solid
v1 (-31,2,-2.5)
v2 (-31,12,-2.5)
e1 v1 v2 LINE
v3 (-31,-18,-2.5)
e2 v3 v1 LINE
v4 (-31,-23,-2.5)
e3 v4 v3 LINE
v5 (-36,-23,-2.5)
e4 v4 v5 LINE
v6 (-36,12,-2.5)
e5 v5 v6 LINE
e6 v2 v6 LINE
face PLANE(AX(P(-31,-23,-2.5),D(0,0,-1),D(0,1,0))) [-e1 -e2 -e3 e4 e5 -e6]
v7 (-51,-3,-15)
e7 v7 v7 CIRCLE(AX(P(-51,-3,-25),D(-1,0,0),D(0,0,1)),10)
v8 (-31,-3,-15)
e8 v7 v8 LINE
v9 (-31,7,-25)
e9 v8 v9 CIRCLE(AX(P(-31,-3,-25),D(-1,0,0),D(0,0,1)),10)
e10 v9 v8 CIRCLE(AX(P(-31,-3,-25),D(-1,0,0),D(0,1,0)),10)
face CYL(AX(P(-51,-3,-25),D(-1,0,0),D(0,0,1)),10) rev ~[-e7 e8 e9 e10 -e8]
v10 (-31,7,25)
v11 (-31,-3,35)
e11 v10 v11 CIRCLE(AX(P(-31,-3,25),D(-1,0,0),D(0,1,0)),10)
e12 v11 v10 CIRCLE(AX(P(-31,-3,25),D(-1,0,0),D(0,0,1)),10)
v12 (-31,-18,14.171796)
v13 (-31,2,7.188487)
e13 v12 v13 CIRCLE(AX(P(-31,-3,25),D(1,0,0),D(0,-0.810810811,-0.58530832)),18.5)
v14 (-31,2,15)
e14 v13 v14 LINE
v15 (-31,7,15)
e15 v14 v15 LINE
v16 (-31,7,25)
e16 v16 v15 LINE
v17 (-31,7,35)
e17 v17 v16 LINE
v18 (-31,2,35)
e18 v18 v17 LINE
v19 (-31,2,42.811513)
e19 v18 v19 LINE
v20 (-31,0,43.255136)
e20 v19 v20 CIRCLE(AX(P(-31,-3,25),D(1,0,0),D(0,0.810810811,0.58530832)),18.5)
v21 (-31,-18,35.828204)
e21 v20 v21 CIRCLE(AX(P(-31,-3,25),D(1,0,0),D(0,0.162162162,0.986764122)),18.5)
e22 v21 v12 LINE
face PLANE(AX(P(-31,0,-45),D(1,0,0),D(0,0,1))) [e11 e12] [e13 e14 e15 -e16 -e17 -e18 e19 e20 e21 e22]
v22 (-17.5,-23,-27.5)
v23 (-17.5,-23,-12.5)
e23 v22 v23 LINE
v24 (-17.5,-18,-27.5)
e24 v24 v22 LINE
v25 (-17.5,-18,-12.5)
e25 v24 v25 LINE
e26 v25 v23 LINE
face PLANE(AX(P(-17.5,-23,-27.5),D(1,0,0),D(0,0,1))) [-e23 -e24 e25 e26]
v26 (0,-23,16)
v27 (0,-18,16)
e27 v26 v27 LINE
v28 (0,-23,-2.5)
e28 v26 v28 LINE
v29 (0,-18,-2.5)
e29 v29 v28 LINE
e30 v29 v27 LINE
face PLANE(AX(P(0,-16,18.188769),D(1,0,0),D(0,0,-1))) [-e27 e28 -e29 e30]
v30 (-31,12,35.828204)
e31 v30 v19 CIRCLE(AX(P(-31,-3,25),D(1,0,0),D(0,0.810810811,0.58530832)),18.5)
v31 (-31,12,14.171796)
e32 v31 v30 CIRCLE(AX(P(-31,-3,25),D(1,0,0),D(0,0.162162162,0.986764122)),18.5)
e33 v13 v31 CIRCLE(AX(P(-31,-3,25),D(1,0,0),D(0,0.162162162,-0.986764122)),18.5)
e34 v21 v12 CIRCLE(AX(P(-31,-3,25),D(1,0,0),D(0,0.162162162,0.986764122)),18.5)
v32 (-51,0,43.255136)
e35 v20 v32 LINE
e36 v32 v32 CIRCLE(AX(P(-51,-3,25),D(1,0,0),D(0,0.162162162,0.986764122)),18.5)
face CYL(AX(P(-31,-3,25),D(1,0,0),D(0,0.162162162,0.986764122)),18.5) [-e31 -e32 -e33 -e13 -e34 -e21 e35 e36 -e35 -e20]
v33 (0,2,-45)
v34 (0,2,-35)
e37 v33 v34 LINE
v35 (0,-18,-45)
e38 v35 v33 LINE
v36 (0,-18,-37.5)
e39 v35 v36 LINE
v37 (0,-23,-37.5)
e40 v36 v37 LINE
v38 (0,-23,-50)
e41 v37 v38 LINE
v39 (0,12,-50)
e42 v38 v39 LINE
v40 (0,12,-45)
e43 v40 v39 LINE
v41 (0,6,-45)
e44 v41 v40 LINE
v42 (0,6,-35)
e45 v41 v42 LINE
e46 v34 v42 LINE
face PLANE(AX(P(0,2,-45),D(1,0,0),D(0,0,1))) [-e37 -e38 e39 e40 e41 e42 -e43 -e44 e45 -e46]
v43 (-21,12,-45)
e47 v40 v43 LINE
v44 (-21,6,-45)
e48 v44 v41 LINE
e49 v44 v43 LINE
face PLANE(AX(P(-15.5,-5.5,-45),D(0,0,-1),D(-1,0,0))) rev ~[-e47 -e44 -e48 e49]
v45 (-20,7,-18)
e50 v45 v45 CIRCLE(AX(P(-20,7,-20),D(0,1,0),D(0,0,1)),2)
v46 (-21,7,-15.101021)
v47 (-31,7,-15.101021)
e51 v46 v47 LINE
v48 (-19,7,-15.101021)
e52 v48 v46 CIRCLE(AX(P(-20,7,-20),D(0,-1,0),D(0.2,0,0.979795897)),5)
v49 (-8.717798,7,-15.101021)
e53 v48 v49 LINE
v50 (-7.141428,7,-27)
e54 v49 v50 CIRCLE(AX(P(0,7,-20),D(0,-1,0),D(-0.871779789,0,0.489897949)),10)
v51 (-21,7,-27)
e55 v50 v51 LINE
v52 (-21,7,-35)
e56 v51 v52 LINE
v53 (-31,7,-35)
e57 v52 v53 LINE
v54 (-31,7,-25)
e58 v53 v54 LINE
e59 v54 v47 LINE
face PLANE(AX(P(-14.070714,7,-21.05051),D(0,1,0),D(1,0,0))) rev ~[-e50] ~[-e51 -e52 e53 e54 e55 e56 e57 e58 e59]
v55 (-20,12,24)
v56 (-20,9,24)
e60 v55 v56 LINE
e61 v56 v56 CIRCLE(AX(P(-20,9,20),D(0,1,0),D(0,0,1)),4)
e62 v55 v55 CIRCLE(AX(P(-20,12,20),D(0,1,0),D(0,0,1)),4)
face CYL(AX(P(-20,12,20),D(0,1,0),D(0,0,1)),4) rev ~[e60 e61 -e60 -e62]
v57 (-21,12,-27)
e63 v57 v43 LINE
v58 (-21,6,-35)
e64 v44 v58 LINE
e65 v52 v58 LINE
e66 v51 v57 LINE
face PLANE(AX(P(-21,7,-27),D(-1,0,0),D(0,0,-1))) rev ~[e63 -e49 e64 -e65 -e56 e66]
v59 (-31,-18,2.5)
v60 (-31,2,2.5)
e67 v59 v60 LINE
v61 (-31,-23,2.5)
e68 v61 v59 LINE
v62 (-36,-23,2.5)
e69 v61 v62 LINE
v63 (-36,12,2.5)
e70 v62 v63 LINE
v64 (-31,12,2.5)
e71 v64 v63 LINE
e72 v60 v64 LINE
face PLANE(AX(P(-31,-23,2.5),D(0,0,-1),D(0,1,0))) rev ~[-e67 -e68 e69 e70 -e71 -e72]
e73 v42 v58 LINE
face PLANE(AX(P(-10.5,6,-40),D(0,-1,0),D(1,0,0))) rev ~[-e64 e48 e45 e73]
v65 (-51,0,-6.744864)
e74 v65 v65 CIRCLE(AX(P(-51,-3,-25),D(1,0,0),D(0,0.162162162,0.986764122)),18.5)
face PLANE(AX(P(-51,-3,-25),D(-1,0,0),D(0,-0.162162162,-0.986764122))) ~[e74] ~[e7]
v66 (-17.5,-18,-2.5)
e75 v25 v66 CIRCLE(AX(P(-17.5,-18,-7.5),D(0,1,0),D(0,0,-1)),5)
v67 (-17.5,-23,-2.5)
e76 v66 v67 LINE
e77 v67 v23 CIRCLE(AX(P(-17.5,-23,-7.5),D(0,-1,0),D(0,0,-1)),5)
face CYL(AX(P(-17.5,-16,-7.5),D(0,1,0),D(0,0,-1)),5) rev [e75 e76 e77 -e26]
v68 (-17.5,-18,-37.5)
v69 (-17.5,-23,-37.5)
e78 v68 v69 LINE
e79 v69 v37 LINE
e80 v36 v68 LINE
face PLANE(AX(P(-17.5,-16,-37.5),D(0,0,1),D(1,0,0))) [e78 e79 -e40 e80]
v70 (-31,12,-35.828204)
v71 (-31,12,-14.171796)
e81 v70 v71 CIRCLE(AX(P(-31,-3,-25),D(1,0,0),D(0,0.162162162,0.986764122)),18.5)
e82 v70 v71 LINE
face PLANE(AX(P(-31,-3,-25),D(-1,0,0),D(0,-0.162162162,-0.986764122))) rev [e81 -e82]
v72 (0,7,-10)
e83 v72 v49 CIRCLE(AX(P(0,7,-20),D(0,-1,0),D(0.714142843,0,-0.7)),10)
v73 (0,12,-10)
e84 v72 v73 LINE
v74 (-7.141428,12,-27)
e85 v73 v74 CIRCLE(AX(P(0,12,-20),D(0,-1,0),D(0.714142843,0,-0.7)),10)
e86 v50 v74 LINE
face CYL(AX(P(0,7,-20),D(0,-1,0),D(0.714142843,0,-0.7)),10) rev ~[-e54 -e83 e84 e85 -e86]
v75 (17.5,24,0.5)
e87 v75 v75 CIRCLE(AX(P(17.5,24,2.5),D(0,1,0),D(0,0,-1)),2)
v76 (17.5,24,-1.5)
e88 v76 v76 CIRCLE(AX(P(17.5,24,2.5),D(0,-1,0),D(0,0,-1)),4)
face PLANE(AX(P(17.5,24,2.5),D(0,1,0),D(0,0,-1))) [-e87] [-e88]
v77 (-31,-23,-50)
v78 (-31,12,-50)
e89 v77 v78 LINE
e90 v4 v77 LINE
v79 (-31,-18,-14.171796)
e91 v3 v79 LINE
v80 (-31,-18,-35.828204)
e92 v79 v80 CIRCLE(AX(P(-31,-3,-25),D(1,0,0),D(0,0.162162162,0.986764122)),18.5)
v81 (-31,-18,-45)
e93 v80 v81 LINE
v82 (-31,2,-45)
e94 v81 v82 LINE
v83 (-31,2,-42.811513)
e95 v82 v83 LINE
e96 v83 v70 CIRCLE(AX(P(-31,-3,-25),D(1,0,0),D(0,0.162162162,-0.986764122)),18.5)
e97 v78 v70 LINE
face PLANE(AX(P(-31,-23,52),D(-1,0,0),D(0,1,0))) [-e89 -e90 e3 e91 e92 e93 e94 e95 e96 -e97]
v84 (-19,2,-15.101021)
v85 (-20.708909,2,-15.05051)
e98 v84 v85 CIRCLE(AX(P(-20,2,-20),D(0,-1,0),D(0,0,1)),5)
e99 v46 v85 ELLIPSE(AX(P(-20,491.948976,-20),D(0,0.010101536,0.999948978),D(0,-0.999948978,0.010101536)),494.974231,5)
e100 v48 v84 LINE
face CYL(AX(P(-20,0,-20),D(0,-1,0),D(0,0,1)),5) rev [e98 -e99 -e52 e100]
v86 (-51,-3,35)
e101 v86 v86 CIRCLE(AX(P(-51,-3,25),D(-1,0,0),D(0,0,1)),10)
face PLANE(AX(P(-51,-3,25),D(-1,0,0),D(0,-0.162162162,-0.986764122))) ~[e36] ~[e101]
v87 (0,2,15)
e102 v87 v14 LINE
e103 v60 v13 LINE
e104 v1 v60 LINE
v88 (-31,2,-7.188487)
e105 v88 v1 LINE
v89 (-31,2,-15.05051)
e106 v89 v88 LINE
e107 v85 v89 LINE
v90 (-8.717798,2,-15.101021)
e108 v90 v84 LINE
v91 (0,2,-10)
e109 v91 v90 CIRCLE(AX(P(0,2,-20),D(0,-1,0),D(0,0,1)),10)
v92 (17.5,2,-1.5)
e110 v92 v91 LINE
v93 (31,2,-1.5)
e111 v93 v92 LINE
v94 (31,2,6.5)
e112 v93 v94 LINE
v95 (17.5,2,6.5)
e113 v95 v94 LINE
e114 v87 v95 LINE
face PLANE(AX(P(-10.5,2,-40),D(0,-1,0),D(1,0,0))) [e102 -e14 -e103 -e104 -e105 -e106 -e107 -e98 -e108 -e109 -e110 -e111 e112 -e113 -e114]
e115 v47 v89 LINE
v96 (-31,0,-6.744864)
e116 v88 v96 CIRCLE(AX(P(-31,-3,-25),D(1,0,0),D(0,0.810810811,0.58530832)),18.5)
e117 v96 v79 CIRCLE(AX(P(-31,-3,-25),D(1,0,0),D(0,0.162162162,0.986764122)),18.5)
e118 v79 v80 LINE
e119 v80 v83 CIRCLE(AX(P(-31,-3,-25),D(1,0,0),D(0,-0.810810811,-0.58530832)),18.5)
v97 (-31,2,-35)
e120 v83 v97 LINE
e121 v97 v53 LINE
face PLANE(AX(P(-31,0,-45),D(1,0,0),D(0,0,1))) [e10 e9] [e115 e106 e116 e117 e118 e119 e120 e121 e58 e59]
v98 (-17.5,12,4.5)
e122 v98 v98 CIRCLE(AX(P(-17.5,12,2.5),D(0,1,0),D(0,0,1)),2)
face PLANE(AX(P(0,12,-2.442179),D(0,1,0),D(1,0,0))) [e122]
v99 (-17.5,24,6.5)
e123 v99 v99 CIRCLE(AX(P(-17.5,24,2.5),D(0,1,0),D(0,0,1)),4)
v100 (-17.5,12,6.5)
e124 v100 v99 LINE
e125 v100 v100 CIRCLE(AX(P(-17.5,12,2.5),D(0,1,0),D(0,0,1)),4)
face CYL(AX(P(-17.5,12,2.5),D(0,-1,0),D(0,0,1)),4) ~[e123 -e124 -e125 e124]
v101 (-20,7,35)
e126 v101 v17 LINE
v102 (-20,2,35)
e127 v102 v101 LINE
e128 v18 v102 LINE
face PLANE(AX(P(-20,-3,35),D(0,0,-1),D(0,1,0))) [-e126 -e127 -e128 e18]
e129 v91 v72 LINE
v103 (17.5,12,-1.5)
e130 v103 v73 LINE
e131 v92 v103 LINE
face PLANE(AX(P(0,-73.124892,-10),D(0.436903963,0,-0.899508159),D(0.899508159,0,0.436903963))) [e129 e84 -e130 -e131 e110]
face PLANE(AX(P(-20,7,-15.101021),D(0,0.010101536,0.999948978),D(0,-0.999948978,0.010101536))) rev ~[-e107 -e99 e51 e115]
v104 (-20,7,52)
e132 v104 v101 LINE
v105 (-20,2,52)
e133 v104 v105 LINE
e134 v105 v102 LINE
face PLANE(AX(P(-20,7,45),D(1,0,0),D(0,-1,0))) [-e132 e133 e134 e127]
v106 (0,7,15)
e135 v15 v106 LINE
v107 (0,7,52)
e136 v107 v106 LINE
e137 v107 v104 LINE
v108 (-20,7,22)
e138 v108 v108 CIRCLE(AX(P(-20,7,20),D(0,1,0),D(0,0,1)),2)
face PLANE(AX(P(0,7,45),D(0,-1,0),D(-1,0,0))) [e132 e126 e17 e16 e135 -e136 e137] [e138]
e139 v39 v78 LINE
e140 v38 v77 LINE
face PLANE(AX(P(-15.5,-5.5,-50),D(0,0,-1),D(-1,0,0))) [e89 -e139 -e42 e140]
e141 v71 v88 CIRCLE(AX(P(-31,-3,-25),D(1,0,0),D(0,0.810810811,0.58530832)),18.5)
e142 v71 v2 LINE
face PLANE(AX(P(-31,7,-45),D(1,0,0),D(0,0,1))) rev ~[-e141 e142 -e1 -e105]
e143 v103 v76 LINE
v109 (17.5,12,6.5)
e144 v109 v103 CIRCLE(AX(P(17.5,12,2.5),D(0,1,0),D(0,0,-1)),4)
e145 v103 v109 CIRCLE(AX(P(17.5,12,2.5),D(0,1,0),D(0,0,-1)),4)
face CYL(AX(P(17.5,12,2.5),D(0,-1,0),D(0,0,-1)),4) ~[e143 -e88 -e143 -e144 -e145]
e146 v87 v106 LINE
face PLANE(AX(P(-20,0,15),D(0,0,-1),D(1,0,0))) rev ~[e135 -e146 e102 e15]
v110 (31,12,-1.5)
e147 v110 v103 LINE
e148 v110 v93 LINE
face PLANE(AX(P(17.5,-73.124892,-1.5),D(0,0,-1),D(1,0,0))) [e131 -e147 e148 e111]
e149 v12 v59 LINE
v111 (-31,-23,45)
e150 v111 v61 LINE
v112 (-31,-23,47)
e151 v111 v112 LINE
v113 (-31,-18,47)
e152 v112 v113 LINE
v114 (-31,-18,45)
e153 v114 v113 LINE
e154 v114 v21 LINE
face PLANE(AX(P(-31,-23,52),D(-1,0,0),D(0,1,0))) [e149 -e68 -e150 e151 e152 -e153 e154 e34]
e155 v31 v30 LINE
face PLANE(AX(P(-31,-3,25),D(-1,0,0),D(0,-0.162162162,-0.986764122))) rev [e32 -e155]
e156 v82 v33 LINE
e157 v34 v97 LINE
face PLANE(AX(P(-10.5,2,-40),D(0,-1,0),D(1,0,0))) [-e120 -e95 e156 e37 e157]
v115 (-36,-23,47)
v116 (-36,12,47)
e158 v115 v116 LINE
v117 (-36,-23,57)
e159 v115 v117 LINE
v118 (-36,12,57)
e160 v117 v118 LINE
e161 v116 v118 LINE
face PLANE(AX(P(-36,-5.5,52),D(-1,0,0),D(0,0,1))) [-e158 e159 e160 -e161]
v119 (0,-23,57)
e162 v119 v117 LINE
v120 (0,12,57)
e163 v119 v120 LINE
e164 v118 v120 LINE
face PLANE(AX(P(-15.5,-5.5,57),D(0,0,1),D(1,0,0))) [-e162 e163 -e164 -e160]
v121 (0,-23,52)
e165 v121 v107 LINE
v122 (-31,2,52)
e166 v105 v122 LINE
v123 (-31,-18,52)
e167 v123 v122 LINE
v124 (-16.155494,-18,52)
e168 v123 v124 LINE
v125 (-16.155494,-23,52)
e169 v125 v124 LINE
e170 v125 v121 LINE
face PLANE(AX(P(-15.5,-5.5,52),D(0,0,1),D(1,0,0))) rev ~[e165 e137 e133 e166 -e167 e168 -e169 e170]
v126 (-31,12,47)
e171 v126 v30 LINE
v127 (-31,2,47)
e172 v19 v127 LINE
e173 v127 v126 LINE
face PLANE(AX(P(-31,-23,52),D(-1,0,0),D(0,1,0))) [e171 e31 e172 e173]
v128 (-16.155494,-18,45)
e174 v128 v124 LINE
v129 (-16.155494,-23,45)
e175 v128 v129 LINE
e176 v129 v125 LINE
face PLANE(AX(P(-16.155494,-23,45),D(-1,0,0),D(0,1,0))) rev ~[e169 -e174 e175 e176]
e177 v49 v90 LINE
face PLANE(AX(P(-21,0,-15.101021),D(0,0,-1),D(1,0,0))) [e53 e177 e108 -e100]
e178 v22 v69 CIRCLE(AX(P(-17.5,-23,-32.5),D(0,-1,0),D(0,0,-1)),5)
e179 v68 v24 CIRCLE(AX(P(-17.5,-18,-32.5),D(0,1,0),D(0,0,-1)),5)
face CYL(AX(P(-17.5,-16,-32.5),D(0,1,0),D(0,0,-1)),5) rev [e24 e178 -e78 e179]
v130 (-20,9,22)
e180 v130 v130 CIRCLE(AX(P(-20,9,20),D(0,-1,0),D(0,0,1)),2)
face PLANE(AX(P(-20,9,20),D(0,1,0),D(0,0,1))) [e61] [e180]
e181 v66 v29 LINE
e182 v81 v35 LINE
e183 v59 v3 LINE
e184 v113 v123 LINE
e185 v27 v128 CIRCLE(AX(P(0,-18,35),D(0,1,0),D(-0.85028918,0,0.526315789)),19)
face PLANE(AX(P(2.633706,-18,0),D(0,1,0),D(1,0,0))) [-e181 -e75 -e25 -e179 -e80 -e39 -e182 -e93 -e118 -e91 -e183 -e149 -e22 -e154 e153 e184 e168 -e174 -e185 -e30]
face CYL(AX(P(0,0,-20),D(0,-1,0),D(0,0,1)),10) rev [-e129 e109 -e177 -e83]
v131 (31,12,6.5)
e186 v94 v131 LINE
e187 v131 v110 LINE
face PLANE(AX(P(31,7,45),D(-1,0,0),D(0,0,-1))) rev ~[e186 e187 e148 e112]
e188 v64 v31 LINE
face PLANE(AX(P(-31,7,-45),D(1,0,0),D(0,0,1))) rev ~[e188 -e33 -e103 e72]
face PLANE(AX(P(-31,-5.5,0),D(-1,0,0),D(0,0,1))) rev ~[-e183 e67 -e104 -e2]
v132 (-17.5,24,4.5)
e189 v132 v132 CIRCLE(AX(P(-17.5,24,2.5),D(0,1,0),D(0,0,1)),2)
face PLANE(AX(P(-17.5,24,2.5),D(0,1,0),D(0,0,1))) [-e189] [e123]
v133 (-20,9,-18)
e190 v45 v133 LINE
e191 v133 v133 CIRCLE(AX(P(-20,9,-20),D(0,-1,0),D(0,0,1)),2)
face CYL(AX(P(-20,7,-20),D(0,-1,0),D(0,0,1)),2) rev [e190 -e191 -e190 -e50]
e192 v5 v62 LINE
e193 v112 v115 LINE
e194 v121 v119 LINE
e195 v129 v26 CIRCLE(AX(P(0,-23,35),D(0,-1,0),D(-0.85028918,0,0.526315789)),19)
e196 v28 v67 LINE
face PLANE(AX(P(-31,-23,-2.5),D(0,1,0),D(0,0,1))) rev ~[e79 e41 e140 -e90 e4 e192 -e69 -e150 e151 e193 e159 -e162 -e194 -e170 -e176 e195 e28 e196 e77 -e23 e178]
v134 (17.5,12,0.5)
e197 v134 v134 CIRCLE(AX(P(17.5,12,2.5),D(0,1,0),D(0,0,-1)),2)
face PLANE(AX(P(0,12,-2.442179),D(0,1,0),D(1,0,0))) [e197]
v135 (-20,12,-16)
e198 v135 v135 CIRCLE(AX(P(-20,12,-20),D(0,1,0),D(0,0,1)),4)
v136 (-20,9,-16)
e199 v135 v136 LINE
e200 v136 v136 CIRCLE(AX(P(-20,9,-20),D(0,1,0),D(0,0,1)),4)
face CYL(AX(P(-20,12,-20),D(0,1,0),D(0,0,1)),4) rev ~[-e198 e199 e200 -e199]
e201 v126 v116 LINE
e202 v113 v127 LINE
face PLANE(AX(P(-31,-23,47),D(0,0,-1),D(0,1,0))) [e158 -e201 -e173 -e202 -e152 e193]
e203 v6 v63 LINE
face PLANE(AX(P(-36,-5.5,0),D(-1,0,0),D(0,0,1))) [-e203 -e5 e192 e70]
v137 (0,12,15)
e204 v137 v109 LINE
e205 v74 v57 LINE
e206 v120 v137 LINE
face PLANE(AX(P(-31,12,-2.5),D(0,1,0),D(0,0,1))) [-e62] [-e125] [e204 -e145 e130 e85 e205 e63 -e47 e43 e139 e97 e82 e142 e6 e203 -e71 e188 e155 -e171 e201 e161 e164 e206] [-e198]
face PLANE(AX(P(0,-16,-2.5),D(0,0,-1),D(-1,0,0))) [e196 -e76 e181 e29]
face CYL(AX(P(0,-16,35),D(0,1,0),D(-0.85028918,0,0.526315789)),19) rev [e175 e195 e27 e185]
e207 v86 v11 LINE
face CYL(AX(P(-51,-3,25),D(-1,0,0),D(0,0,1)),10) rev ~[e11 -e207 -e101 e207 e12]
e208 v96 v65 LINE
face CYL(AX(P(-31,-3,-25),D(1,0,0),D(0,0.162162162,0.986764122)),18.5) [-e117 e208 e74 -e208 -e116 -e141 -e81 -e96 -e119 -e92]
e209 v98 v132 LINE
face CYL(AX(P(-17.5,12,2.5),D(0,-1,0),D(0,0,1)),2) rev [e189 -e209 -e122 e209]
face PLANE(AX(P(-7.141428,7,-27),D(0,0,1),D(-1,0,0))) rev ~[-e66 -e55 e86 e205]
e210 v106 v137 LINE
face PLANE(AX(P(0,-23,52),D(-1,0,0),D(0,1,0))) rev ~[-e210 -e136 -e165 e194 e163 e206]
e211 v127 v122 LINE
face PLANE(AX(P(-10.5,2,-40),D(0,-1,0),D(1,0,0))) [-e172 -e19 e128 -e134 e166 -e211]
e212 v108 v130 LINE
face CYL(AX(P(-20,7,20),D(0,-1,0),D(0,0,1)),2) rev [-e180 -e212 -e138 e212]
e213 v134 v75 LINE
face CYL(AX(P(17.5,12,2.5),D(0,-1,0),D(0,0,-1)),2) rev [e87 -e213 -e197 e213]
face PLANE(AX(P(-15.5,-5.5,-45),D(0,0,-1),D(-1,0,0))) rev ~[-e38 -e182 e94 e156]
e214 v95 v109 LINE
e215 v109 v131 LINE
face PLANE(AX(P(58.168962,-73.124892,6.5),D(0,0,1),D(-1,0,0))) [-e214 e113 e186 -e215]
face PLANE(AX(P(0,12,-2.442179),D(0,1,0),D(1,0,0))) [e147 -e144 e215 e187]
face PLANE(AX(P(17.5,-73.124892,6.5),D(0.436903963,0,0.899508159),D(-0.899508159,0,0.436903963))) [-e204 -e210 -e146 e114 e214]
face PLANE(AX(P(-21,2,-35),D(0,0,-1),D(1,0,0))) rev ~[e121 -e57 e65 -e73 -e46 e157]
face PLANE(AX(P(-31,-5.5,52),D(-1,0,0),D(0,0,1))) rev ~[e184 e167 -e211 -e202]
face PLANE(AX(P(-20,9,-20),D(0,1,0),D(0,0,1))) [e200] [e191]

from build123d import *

# Parameters (mm, degrees)
SKETCH_1_W               = 62
SKETCH_1_H               = 90
SKETCH_1_R               = 5
SKETCH_1_R_2             = 10
EXTRUDE_1_DEPTH          = 7
SKETCH_3_R               = 10
SKETCH_3_R_2             = 5
EXTRUDE_2_DEPTH          = 7
SKETCH_4_R               = 18.5
EXTRUDE_3_DEPTH          = 20
SKETCH_5_W               = 42
SKETCH_5_H               = 18
CUT_EXTRUDE_1_DEPTH      = 7
SKETCH_7_R               = 2
EXTRUDE_5_DEPTH          = 5
SKETCH_6_R               = 4
SKETCH_6_R_2             = 2
EXTRUDE_7_DEPTH          = 12
SKETCH_18_R              = 4
CUT_EXTRUDE_8_DEPTH      = 3
CUT_EXTRUDE_3_DEPTH      = 73.124891681
CUT_EXTRUDE_3_DEPTH_BACK = 73.124891681
SKETCH_10_W              = 13.858571571
SKETCH_10_H              = 11.898979486
SKETCH_10_W_2            = 20
SKETCH_10_H_2            = 30
CUT_EXTRUDE_4_DEPTH      = 7
SKETCH_11_W              = 17.5
SKETCH_11_H              = 10
CUT_EXTRUDE_5_DEPTH      = 7
CUT_EXTRUDE_9_REACH      = 84.674
SKETCH_19_W              = 10.885621722
SKETCH_19_H              = 15
SKETCH_12_W              = 92.977348864
SKETCH_12_H              = 90
CUT_EXTRUDE_6_DEPTH      = 2
SKETCH_13_W              = 67.267412259
SKETCH_13_H              = 90
CUT_EXTRUDE_7_DEPTH      = 2
SKETCH_14_W              = 31
SKETCH_14_H              = 35
EXTRUDE_8_DEPTH          = 5
SKETCH_15_W              = 14.844505579
SKETCH_15_H              = 5
EXTRUDE_9_DEPTH          = 7
SKETCH_16_W              = 31
SKETCH_16_H              = 35
EXTRUDE_10_DEPTH         = 5
SKETCH_20_W              = 21
SKETCH_20_H              = 10
EXTRUDE_11_DEPTH         = 4
SKETCH_21_W              = 5
SKETCH_21_H              = 35
SKETCH_21_W_2            = 10
EXTRUDE_12_DEPTH         = 5
SKETCH_22_R              = 10
CUT_EXTRUDE_10_DEPTH     = 103.708324882
SKETCH_23_W              = 20
SKETCH_23_H              = 10
CUT_EXTRUDE_11_DEPTH     = 11


with BuildPart() as part:
    # 草图1 → 凸台-拉伸1 (new body)
    with BuildSketch(Plane(origin=(0, 0, 0), x_dir=(1, 0, 0), z_dir=(0, 1, 0))):
        Rectangle(SKETCH_1_W, SKETCH_1_H)
        with Locations(Location((-20, 20, 0), (0, 0, 270))):
            Circle(SKETCH_1_R, mode=Mode.SUBTRACT)
        with Locations(Location((20, 20, 0), (0, 0, 270))):
            Circle(SKETCH_1_R, mode=Mode.SUBTRACT)
        with Locations(Location((20, -20, 0), (0, 0, 270))):
            Circle(SKETCH_1_R, mode=Mode.SUBTRACT)
        with Locations(Location((-20, -20, 0), (0, 0, 270))):
            Circle(SKETCH_1_R, mode=Mode.SUBTRACT)
        with Locations(Location((0, 20, 0), (0, 0, 270))):
            Circle(SKETCH_1_R_2, mode=Mode.SUBTRACT)
    extrude(amount=EXTRUDE_1_DEPTH)



with BuildPart() as body_2:
    # 草图3 → 凸台-拉伸2 (new body)
    with BuildSketch(Plane(origin=(0, -16, 0), x_dir=(-1, 0, 0), z_dir=(0, -1, 0))):
        with BuildLine():
            Line((-31, 45), (31, 45))
            Line((31, 45), (31, -45))
            Line((31, -45), (16.155494421, -45))
            ThreePointArc((16.155494421, -45), (0, -16), (-16.155494421, -45))
            Line((-16.155494421, -45), (-31, -45))
            Line((-31, -45), (-31, 45))
        make_face()
        with Locations(Location((0, 20, 0), (0, 0, 270))):
            Circle(SKETCH_3_R, mode=Mode.SUBTRACT)
        with Locations(Location((17.5, 32.5, 0), (0, 0, 90))):
            Circle(SKETCH_3_R_2, mode=Mode.SUBTRACT)
        with Locations(Location((17.5, 7.5, 0), (0, 0, 90))):
            Circle(SKETCH_3_R_2, mode=Mode.SUBTRACT)
        with Locations(Location((-17.5, 7.5, 0), (0, 0, 90))):
            Circle(SKETCH_3_R_2, mode=Mode.SUBTRACT)
        with Locations(Location((-17.5, 32.5, 0), (0, 0, 90))):
            Circle(SKETCH_3_R_2, mode=Mode.SUBTRACT)
    extrude(amount=EXTRUDE_2_DEPTH)


with BuildPart() as part_1:
    add(part.part)

    add(body_2.part)  # 凸台-拉伸3 merges body 2
    # 草图4 → 凸台-拉伸3 (add)
    with BuildSketch(Plane(origin=(31, 0, 0), x_dir=(0, 0, -1), z_dir=(1, 0, 0))):
        with Locations(Location((-25, -3, 0), (0, 0, 170.667581816))):
            Circle(SKETCH_4_R)
        with Locations(Location((25, -3, 0), (0, 0, 170.667581816))):
            Circle(SKETCH_4_R)
    extrude_3 = extrude(amount=EXTRUDE_3_DEPTH)

    # 镜向1: 凸台-拉伸3 across plane
    add(extrude_3.mirror(Plane(origin=(0, 0, 0), x_dir=(0, 0, 1), z_dir=(1, 0, 0))))

    # 草图5 → 切除-拉伸1 (cut)
    with BuildSketch(Plane(origin=(0, 7, 0), x_dir=(1, 0, 0), z_dir=(0, 1, 0))):
        with Locations((0, 36)):
            Rectangle(SKETCH_5_W, SKETCH_5_H)
    extrude(amount=-CUT_EXTRUDE_1_DEPTH, mode=Mode.SUBTRACT)

    # 草图7 → 凸台-拉伸5 (add)
    with BuildSketch(Plane(origin=(0, 7, 0), x_dir=(1, 0, 0), z_dir=(0, 1, 0))):
        with BuildLine():
            Line((-7.141428429, 27), (-21, 27))
            Line((-21, 27), (-21, 45))
            Line((-21, 45), (-31, 45))
            Line((-31, 45), (-31, -45))
            Line((-31, -45), (31, -45))
            Line((31, -45), (31, 45))
            Line((31, 45), (21, 45))
            Line((21, 45), (21, 27))
            Line((21, 27), (7.141428429, 27))
            ThreePointArc((7.141428429, 27), (0, 10), (-7.141428429, 27))
        make_face()
        with Locations(Location((-20, 20, 0), (0, 0, 270))):
            Circle(SKETCH_7_R, mode=Mode.SUBTRACT)
        with Locations(Location((20, 20, 0), (0, 0, 270))):
            Circle(SKETCH_7_R, mode=Mode.SUBTRACT)
        with Locations(Location((20, -20, 0), (0, 0, 270))):
            Circle(SKETCH_7_R, mode=Mode.SUBTRACT)
        with Locations(Location((-20, -20, 0), (0, 0, 270))):
            Circle(SKETCH_7_R, mode=Mode.SUBTRACT)
    extrude(amount=EXTRUDE_5_DEPTH)

    # 草图6 → 凸台-拉伸7 (add)
    # profile 1 of 2: a face of its own
    with BuildSketch(Plane(origin=(0, 12, 0), x_dir=(1, 0, 0), z_dir=(0, 1, 0))):
        with Locations(Location((-17.5, -2.5, 0), (0, 0, 270))):
            Circle(SKETCH_6_R)
        with Locations(Location((-17.5, -2.5, 0), (0, 0, 270))):
            Circle(SKETCH_6_R_2, mode=Mode.SUBTRACT)
    # profile 2 of 2: a face of its own
    with BuildSketch(Plane(origin=(0, 12, 0), x_dir=(1, 0, 0), z_dir=(0, 1, 0))):
        with Locations(Location((17.5, -2.5, 0), (0, 0, 90))):
            Circle(SKETCH_6_R)
        with Locations(Location((17.5, -2.5, 0), (0, 0, 90))):
            Circle(SKETCH_6_R_2, mode=Mode.SUBTRACT)
    extrude(amount=EXTRUDE_7_DEPTH)

    # 草图18 → 切除-拉伸8 (cut)
    with BuildSketch(Plane(origin=(0, 12, 0), x_dir=(1, 0, 0), z_dir=(0, 1, 0))):
        with Locations(Location((-20, 20, 0), (0, 0, 270))):
            Circle(SKETCH_18_R)
        with Locations(Location((20, 20, 0), (0, 0, 270))):
            Circle(SKETCH_18_R)
        with Locations(Location((20, -20, 0), (0, 0, 270))):
            Circle(SKETCH_18_R)
        with Locations(Location((-20, -20, 0), (0, 0, 270))):
            Circle(SKETCH_18_R)
    extrude(amount=-CUT_EXTRUDE_8_DEPTH, mode=Mode.SUBTRACT)

    # 草图9 → 切除-拉伸3 (cut, two sides: drawn at the far end of the back side and taken through both)
    with BuildSketch(Plane(origin=(0, 0, 0), x_dir=(1, 0, 0), z_dir=(0, 1, 0)).offset(-CUT_EXTRUDE_3_DEPTH_BACK)):
        Polygon((58.168962293, 1.5), (58.168962293, 54.540507165), (0, 54.540507165), (0, 10), (17.5, 1.5), align=None)
        Polygon((0, -53.302122896), (58.168962293, -53.302122896), (58.168962293, -6.5), (17.5, -6.5), (0, -15), align=None)
    extrude(amount=CUT_EXTRUDE_3_DEPTH + CUT_EXTRUDE_3_DEPTH_BACK, mode=Mode.SUBTRACT)

    # 草图10 → 切除-拉伸4 (cut)
    with BuildSketch(Plane(origin=(0, 0, 0), x_dir=(1, 0, 0), z_dir=(0, 1, 0))):
        with Locations((-14.070714215, 21.050510257)):
            Rectangle(SKETCH_10_W, SKETCH_10_H)
        with Locations((-10, -30)):
            Rectangle(SKETCH_10_W_2, SKETCH_10_H_2)
    extrude(amount=CUT_EXTRUDE_4_DEPTH, mode=Mode.SUBTRACT)

    # 草图11 → 切除-拉伸5 (cut)
    with BuildSketch(Plane(origin=(0, -16, 0), x_dir=(1, 0, 0), z_dir=(0, 1, 0))):
        with Locations((-8.75, 32.5)):
            Rectangle(SKETCH_11_W, SKETCH_11_H)
        Polygon((-17.5, 12.5), (32.655458142, 12.5), (32.655458142, -18.188768946), (0, -18.188768946), (0, 2.5), (-17.5, 2.5), align=None)
    extrude(amount=-CUT_EXTRUDE_5_DEPTH, mode=Mode.SUBTRACT)

    # 草图19 → 切除-拉伸9 (cut, up to next)
    with BuildSketch(Plane.XZ.offset(23), mode=Mode.PRIVATE) as cut_extrude_9_sk1:
        with Locations((-12.057189139, -20)):
            Rectangle(SKETCH_19_W, SKETCH_19_H)
    cut_extrude_9_tool1 = extrude(cut_extrude_9_sk1.sketch, amount=-CUT_EXTRUDE_9_REACH, mode=Mode.PRIVATE) & part_1.part
    add(cut_extrude_9_tool1.solids().sort_by_distance((-12.057189, -23, -20))[0], mode=Mode.SUBTRACT)

    # 草图12 → 切除-拉伸6 (cut)
    with BuildSketch(Plane.XZ):
        with Locations((15.488674432, 0)):
            Rectangle(SKETCH_12_W, SKETCH_12_H)
    extrude(amount=-CUT_EXTRUDE_6_DEPTH, mode=Mode.SUBTRACT)

    # 草图13 → 切除-拉伸7 (cut)
    with BuildSketch(Plane(origin=(0, -16, 0), x_dir=(1, 0, 0), z_dir=(0, 1, 0))):
        with Locations((2.63370613, 0)):
            Rectangle(SKETCH_13_W, SKETCH_13_H)
    extrude(amount=-CUT_EXTRUDE_7_DEPTH, mode=Mode.SUBTRACT)

    # 草图14 → 凸台-拉伸8 (add)
    with BuildSketch(Plane(origin=(0, 0, -45), x_dir=(-1, 0, 0), z_dir=(0, 0, -1))):
        with Locations((15.5, -5.5)):
            Rectangle(SKETCH_14_W, SKETCH_14_H)
    extrude(amount=EXTRUDE_8_DEPTH)

    # 草图15 → 凸台-拉伸9 (add)
    with BuildSketch(Plane.XY.offset(45)):
        Polygon((0, 12), (0, 7), (-20, 7), (-20, 2), (-31, 2), (-31, 12), align=None)
        with Locations((-23.577747211, -20.5)):
            Rectangle(SKETCH_15_W, SKETCH_15_H)
    extrude(amount=EXTRUDE_9_DEPTH)

    # 草图16 → 凸台-拉伸10 (add)
    with BuildSketch(Plane.XY.offset(52)):
        with Locations((-15.5, -5.5)):
            Rectangle(SKETCH_16_W, SKETCH_16_H)
    extrude(amount=EXTRUDE_10_DEPTH)

    # 草图20 → 凸台-拉伸11 (add)
    with BuildSketch(Plane.XZ.offset(-2)):
        with Locations((-10.5, -40)):
            Rectangle(SKETCH_20_W, SKETCH_20_H)
    extrude(amount=-EXTRUDE_11_DEPTH)

    # 草图21 → 凸台-拉伸12 (add)
    with BuildSketch(Plane.ZY.offset(31)):
        with Locations((0, -5.5)):
            Rectangle(SKETCH_21_W, SKETCH_21_H)
        with Locations((52, -5.5)):
            Rectangle(SKETCH_21_W_2, SKETCH_21_H)
    extrude(amount=EXTRUDE_12_DEPTH)

    # 草图22 → 切除-拉伸10 (cut, through all)
    with BuildSketch(Plane.ZY.offset(51)):
        with Locations((-25, -3)):
            Circle(SKETCH_22_R)
        with Locations((25, -3)):
            Circle(SKETCH_22_R)
    extrude(amount=-CUT_EXTRUDE_10_DEPTH, mode=Mode.SUBTRACT)

    # 草图23 → 切除-拉伸11 (cut)
    with BuildSketch(Plane(origin=(-20, 0, 0), x_dir=(0, 0, -1), z_dir=(1, 0, 0))):
        with Locations((-25, 2)):
            Rectangle(SKETCH_23_W, SKETCH_23_H)
        Polygon((15, -3), (35, -3), (35, 7), (15.101020514, 7), align=None)
    extrude(amount=-CUT_EXTRUDE_11_DEPTH, mode=Mode.SUBTRACT)


solid = part_1.part
